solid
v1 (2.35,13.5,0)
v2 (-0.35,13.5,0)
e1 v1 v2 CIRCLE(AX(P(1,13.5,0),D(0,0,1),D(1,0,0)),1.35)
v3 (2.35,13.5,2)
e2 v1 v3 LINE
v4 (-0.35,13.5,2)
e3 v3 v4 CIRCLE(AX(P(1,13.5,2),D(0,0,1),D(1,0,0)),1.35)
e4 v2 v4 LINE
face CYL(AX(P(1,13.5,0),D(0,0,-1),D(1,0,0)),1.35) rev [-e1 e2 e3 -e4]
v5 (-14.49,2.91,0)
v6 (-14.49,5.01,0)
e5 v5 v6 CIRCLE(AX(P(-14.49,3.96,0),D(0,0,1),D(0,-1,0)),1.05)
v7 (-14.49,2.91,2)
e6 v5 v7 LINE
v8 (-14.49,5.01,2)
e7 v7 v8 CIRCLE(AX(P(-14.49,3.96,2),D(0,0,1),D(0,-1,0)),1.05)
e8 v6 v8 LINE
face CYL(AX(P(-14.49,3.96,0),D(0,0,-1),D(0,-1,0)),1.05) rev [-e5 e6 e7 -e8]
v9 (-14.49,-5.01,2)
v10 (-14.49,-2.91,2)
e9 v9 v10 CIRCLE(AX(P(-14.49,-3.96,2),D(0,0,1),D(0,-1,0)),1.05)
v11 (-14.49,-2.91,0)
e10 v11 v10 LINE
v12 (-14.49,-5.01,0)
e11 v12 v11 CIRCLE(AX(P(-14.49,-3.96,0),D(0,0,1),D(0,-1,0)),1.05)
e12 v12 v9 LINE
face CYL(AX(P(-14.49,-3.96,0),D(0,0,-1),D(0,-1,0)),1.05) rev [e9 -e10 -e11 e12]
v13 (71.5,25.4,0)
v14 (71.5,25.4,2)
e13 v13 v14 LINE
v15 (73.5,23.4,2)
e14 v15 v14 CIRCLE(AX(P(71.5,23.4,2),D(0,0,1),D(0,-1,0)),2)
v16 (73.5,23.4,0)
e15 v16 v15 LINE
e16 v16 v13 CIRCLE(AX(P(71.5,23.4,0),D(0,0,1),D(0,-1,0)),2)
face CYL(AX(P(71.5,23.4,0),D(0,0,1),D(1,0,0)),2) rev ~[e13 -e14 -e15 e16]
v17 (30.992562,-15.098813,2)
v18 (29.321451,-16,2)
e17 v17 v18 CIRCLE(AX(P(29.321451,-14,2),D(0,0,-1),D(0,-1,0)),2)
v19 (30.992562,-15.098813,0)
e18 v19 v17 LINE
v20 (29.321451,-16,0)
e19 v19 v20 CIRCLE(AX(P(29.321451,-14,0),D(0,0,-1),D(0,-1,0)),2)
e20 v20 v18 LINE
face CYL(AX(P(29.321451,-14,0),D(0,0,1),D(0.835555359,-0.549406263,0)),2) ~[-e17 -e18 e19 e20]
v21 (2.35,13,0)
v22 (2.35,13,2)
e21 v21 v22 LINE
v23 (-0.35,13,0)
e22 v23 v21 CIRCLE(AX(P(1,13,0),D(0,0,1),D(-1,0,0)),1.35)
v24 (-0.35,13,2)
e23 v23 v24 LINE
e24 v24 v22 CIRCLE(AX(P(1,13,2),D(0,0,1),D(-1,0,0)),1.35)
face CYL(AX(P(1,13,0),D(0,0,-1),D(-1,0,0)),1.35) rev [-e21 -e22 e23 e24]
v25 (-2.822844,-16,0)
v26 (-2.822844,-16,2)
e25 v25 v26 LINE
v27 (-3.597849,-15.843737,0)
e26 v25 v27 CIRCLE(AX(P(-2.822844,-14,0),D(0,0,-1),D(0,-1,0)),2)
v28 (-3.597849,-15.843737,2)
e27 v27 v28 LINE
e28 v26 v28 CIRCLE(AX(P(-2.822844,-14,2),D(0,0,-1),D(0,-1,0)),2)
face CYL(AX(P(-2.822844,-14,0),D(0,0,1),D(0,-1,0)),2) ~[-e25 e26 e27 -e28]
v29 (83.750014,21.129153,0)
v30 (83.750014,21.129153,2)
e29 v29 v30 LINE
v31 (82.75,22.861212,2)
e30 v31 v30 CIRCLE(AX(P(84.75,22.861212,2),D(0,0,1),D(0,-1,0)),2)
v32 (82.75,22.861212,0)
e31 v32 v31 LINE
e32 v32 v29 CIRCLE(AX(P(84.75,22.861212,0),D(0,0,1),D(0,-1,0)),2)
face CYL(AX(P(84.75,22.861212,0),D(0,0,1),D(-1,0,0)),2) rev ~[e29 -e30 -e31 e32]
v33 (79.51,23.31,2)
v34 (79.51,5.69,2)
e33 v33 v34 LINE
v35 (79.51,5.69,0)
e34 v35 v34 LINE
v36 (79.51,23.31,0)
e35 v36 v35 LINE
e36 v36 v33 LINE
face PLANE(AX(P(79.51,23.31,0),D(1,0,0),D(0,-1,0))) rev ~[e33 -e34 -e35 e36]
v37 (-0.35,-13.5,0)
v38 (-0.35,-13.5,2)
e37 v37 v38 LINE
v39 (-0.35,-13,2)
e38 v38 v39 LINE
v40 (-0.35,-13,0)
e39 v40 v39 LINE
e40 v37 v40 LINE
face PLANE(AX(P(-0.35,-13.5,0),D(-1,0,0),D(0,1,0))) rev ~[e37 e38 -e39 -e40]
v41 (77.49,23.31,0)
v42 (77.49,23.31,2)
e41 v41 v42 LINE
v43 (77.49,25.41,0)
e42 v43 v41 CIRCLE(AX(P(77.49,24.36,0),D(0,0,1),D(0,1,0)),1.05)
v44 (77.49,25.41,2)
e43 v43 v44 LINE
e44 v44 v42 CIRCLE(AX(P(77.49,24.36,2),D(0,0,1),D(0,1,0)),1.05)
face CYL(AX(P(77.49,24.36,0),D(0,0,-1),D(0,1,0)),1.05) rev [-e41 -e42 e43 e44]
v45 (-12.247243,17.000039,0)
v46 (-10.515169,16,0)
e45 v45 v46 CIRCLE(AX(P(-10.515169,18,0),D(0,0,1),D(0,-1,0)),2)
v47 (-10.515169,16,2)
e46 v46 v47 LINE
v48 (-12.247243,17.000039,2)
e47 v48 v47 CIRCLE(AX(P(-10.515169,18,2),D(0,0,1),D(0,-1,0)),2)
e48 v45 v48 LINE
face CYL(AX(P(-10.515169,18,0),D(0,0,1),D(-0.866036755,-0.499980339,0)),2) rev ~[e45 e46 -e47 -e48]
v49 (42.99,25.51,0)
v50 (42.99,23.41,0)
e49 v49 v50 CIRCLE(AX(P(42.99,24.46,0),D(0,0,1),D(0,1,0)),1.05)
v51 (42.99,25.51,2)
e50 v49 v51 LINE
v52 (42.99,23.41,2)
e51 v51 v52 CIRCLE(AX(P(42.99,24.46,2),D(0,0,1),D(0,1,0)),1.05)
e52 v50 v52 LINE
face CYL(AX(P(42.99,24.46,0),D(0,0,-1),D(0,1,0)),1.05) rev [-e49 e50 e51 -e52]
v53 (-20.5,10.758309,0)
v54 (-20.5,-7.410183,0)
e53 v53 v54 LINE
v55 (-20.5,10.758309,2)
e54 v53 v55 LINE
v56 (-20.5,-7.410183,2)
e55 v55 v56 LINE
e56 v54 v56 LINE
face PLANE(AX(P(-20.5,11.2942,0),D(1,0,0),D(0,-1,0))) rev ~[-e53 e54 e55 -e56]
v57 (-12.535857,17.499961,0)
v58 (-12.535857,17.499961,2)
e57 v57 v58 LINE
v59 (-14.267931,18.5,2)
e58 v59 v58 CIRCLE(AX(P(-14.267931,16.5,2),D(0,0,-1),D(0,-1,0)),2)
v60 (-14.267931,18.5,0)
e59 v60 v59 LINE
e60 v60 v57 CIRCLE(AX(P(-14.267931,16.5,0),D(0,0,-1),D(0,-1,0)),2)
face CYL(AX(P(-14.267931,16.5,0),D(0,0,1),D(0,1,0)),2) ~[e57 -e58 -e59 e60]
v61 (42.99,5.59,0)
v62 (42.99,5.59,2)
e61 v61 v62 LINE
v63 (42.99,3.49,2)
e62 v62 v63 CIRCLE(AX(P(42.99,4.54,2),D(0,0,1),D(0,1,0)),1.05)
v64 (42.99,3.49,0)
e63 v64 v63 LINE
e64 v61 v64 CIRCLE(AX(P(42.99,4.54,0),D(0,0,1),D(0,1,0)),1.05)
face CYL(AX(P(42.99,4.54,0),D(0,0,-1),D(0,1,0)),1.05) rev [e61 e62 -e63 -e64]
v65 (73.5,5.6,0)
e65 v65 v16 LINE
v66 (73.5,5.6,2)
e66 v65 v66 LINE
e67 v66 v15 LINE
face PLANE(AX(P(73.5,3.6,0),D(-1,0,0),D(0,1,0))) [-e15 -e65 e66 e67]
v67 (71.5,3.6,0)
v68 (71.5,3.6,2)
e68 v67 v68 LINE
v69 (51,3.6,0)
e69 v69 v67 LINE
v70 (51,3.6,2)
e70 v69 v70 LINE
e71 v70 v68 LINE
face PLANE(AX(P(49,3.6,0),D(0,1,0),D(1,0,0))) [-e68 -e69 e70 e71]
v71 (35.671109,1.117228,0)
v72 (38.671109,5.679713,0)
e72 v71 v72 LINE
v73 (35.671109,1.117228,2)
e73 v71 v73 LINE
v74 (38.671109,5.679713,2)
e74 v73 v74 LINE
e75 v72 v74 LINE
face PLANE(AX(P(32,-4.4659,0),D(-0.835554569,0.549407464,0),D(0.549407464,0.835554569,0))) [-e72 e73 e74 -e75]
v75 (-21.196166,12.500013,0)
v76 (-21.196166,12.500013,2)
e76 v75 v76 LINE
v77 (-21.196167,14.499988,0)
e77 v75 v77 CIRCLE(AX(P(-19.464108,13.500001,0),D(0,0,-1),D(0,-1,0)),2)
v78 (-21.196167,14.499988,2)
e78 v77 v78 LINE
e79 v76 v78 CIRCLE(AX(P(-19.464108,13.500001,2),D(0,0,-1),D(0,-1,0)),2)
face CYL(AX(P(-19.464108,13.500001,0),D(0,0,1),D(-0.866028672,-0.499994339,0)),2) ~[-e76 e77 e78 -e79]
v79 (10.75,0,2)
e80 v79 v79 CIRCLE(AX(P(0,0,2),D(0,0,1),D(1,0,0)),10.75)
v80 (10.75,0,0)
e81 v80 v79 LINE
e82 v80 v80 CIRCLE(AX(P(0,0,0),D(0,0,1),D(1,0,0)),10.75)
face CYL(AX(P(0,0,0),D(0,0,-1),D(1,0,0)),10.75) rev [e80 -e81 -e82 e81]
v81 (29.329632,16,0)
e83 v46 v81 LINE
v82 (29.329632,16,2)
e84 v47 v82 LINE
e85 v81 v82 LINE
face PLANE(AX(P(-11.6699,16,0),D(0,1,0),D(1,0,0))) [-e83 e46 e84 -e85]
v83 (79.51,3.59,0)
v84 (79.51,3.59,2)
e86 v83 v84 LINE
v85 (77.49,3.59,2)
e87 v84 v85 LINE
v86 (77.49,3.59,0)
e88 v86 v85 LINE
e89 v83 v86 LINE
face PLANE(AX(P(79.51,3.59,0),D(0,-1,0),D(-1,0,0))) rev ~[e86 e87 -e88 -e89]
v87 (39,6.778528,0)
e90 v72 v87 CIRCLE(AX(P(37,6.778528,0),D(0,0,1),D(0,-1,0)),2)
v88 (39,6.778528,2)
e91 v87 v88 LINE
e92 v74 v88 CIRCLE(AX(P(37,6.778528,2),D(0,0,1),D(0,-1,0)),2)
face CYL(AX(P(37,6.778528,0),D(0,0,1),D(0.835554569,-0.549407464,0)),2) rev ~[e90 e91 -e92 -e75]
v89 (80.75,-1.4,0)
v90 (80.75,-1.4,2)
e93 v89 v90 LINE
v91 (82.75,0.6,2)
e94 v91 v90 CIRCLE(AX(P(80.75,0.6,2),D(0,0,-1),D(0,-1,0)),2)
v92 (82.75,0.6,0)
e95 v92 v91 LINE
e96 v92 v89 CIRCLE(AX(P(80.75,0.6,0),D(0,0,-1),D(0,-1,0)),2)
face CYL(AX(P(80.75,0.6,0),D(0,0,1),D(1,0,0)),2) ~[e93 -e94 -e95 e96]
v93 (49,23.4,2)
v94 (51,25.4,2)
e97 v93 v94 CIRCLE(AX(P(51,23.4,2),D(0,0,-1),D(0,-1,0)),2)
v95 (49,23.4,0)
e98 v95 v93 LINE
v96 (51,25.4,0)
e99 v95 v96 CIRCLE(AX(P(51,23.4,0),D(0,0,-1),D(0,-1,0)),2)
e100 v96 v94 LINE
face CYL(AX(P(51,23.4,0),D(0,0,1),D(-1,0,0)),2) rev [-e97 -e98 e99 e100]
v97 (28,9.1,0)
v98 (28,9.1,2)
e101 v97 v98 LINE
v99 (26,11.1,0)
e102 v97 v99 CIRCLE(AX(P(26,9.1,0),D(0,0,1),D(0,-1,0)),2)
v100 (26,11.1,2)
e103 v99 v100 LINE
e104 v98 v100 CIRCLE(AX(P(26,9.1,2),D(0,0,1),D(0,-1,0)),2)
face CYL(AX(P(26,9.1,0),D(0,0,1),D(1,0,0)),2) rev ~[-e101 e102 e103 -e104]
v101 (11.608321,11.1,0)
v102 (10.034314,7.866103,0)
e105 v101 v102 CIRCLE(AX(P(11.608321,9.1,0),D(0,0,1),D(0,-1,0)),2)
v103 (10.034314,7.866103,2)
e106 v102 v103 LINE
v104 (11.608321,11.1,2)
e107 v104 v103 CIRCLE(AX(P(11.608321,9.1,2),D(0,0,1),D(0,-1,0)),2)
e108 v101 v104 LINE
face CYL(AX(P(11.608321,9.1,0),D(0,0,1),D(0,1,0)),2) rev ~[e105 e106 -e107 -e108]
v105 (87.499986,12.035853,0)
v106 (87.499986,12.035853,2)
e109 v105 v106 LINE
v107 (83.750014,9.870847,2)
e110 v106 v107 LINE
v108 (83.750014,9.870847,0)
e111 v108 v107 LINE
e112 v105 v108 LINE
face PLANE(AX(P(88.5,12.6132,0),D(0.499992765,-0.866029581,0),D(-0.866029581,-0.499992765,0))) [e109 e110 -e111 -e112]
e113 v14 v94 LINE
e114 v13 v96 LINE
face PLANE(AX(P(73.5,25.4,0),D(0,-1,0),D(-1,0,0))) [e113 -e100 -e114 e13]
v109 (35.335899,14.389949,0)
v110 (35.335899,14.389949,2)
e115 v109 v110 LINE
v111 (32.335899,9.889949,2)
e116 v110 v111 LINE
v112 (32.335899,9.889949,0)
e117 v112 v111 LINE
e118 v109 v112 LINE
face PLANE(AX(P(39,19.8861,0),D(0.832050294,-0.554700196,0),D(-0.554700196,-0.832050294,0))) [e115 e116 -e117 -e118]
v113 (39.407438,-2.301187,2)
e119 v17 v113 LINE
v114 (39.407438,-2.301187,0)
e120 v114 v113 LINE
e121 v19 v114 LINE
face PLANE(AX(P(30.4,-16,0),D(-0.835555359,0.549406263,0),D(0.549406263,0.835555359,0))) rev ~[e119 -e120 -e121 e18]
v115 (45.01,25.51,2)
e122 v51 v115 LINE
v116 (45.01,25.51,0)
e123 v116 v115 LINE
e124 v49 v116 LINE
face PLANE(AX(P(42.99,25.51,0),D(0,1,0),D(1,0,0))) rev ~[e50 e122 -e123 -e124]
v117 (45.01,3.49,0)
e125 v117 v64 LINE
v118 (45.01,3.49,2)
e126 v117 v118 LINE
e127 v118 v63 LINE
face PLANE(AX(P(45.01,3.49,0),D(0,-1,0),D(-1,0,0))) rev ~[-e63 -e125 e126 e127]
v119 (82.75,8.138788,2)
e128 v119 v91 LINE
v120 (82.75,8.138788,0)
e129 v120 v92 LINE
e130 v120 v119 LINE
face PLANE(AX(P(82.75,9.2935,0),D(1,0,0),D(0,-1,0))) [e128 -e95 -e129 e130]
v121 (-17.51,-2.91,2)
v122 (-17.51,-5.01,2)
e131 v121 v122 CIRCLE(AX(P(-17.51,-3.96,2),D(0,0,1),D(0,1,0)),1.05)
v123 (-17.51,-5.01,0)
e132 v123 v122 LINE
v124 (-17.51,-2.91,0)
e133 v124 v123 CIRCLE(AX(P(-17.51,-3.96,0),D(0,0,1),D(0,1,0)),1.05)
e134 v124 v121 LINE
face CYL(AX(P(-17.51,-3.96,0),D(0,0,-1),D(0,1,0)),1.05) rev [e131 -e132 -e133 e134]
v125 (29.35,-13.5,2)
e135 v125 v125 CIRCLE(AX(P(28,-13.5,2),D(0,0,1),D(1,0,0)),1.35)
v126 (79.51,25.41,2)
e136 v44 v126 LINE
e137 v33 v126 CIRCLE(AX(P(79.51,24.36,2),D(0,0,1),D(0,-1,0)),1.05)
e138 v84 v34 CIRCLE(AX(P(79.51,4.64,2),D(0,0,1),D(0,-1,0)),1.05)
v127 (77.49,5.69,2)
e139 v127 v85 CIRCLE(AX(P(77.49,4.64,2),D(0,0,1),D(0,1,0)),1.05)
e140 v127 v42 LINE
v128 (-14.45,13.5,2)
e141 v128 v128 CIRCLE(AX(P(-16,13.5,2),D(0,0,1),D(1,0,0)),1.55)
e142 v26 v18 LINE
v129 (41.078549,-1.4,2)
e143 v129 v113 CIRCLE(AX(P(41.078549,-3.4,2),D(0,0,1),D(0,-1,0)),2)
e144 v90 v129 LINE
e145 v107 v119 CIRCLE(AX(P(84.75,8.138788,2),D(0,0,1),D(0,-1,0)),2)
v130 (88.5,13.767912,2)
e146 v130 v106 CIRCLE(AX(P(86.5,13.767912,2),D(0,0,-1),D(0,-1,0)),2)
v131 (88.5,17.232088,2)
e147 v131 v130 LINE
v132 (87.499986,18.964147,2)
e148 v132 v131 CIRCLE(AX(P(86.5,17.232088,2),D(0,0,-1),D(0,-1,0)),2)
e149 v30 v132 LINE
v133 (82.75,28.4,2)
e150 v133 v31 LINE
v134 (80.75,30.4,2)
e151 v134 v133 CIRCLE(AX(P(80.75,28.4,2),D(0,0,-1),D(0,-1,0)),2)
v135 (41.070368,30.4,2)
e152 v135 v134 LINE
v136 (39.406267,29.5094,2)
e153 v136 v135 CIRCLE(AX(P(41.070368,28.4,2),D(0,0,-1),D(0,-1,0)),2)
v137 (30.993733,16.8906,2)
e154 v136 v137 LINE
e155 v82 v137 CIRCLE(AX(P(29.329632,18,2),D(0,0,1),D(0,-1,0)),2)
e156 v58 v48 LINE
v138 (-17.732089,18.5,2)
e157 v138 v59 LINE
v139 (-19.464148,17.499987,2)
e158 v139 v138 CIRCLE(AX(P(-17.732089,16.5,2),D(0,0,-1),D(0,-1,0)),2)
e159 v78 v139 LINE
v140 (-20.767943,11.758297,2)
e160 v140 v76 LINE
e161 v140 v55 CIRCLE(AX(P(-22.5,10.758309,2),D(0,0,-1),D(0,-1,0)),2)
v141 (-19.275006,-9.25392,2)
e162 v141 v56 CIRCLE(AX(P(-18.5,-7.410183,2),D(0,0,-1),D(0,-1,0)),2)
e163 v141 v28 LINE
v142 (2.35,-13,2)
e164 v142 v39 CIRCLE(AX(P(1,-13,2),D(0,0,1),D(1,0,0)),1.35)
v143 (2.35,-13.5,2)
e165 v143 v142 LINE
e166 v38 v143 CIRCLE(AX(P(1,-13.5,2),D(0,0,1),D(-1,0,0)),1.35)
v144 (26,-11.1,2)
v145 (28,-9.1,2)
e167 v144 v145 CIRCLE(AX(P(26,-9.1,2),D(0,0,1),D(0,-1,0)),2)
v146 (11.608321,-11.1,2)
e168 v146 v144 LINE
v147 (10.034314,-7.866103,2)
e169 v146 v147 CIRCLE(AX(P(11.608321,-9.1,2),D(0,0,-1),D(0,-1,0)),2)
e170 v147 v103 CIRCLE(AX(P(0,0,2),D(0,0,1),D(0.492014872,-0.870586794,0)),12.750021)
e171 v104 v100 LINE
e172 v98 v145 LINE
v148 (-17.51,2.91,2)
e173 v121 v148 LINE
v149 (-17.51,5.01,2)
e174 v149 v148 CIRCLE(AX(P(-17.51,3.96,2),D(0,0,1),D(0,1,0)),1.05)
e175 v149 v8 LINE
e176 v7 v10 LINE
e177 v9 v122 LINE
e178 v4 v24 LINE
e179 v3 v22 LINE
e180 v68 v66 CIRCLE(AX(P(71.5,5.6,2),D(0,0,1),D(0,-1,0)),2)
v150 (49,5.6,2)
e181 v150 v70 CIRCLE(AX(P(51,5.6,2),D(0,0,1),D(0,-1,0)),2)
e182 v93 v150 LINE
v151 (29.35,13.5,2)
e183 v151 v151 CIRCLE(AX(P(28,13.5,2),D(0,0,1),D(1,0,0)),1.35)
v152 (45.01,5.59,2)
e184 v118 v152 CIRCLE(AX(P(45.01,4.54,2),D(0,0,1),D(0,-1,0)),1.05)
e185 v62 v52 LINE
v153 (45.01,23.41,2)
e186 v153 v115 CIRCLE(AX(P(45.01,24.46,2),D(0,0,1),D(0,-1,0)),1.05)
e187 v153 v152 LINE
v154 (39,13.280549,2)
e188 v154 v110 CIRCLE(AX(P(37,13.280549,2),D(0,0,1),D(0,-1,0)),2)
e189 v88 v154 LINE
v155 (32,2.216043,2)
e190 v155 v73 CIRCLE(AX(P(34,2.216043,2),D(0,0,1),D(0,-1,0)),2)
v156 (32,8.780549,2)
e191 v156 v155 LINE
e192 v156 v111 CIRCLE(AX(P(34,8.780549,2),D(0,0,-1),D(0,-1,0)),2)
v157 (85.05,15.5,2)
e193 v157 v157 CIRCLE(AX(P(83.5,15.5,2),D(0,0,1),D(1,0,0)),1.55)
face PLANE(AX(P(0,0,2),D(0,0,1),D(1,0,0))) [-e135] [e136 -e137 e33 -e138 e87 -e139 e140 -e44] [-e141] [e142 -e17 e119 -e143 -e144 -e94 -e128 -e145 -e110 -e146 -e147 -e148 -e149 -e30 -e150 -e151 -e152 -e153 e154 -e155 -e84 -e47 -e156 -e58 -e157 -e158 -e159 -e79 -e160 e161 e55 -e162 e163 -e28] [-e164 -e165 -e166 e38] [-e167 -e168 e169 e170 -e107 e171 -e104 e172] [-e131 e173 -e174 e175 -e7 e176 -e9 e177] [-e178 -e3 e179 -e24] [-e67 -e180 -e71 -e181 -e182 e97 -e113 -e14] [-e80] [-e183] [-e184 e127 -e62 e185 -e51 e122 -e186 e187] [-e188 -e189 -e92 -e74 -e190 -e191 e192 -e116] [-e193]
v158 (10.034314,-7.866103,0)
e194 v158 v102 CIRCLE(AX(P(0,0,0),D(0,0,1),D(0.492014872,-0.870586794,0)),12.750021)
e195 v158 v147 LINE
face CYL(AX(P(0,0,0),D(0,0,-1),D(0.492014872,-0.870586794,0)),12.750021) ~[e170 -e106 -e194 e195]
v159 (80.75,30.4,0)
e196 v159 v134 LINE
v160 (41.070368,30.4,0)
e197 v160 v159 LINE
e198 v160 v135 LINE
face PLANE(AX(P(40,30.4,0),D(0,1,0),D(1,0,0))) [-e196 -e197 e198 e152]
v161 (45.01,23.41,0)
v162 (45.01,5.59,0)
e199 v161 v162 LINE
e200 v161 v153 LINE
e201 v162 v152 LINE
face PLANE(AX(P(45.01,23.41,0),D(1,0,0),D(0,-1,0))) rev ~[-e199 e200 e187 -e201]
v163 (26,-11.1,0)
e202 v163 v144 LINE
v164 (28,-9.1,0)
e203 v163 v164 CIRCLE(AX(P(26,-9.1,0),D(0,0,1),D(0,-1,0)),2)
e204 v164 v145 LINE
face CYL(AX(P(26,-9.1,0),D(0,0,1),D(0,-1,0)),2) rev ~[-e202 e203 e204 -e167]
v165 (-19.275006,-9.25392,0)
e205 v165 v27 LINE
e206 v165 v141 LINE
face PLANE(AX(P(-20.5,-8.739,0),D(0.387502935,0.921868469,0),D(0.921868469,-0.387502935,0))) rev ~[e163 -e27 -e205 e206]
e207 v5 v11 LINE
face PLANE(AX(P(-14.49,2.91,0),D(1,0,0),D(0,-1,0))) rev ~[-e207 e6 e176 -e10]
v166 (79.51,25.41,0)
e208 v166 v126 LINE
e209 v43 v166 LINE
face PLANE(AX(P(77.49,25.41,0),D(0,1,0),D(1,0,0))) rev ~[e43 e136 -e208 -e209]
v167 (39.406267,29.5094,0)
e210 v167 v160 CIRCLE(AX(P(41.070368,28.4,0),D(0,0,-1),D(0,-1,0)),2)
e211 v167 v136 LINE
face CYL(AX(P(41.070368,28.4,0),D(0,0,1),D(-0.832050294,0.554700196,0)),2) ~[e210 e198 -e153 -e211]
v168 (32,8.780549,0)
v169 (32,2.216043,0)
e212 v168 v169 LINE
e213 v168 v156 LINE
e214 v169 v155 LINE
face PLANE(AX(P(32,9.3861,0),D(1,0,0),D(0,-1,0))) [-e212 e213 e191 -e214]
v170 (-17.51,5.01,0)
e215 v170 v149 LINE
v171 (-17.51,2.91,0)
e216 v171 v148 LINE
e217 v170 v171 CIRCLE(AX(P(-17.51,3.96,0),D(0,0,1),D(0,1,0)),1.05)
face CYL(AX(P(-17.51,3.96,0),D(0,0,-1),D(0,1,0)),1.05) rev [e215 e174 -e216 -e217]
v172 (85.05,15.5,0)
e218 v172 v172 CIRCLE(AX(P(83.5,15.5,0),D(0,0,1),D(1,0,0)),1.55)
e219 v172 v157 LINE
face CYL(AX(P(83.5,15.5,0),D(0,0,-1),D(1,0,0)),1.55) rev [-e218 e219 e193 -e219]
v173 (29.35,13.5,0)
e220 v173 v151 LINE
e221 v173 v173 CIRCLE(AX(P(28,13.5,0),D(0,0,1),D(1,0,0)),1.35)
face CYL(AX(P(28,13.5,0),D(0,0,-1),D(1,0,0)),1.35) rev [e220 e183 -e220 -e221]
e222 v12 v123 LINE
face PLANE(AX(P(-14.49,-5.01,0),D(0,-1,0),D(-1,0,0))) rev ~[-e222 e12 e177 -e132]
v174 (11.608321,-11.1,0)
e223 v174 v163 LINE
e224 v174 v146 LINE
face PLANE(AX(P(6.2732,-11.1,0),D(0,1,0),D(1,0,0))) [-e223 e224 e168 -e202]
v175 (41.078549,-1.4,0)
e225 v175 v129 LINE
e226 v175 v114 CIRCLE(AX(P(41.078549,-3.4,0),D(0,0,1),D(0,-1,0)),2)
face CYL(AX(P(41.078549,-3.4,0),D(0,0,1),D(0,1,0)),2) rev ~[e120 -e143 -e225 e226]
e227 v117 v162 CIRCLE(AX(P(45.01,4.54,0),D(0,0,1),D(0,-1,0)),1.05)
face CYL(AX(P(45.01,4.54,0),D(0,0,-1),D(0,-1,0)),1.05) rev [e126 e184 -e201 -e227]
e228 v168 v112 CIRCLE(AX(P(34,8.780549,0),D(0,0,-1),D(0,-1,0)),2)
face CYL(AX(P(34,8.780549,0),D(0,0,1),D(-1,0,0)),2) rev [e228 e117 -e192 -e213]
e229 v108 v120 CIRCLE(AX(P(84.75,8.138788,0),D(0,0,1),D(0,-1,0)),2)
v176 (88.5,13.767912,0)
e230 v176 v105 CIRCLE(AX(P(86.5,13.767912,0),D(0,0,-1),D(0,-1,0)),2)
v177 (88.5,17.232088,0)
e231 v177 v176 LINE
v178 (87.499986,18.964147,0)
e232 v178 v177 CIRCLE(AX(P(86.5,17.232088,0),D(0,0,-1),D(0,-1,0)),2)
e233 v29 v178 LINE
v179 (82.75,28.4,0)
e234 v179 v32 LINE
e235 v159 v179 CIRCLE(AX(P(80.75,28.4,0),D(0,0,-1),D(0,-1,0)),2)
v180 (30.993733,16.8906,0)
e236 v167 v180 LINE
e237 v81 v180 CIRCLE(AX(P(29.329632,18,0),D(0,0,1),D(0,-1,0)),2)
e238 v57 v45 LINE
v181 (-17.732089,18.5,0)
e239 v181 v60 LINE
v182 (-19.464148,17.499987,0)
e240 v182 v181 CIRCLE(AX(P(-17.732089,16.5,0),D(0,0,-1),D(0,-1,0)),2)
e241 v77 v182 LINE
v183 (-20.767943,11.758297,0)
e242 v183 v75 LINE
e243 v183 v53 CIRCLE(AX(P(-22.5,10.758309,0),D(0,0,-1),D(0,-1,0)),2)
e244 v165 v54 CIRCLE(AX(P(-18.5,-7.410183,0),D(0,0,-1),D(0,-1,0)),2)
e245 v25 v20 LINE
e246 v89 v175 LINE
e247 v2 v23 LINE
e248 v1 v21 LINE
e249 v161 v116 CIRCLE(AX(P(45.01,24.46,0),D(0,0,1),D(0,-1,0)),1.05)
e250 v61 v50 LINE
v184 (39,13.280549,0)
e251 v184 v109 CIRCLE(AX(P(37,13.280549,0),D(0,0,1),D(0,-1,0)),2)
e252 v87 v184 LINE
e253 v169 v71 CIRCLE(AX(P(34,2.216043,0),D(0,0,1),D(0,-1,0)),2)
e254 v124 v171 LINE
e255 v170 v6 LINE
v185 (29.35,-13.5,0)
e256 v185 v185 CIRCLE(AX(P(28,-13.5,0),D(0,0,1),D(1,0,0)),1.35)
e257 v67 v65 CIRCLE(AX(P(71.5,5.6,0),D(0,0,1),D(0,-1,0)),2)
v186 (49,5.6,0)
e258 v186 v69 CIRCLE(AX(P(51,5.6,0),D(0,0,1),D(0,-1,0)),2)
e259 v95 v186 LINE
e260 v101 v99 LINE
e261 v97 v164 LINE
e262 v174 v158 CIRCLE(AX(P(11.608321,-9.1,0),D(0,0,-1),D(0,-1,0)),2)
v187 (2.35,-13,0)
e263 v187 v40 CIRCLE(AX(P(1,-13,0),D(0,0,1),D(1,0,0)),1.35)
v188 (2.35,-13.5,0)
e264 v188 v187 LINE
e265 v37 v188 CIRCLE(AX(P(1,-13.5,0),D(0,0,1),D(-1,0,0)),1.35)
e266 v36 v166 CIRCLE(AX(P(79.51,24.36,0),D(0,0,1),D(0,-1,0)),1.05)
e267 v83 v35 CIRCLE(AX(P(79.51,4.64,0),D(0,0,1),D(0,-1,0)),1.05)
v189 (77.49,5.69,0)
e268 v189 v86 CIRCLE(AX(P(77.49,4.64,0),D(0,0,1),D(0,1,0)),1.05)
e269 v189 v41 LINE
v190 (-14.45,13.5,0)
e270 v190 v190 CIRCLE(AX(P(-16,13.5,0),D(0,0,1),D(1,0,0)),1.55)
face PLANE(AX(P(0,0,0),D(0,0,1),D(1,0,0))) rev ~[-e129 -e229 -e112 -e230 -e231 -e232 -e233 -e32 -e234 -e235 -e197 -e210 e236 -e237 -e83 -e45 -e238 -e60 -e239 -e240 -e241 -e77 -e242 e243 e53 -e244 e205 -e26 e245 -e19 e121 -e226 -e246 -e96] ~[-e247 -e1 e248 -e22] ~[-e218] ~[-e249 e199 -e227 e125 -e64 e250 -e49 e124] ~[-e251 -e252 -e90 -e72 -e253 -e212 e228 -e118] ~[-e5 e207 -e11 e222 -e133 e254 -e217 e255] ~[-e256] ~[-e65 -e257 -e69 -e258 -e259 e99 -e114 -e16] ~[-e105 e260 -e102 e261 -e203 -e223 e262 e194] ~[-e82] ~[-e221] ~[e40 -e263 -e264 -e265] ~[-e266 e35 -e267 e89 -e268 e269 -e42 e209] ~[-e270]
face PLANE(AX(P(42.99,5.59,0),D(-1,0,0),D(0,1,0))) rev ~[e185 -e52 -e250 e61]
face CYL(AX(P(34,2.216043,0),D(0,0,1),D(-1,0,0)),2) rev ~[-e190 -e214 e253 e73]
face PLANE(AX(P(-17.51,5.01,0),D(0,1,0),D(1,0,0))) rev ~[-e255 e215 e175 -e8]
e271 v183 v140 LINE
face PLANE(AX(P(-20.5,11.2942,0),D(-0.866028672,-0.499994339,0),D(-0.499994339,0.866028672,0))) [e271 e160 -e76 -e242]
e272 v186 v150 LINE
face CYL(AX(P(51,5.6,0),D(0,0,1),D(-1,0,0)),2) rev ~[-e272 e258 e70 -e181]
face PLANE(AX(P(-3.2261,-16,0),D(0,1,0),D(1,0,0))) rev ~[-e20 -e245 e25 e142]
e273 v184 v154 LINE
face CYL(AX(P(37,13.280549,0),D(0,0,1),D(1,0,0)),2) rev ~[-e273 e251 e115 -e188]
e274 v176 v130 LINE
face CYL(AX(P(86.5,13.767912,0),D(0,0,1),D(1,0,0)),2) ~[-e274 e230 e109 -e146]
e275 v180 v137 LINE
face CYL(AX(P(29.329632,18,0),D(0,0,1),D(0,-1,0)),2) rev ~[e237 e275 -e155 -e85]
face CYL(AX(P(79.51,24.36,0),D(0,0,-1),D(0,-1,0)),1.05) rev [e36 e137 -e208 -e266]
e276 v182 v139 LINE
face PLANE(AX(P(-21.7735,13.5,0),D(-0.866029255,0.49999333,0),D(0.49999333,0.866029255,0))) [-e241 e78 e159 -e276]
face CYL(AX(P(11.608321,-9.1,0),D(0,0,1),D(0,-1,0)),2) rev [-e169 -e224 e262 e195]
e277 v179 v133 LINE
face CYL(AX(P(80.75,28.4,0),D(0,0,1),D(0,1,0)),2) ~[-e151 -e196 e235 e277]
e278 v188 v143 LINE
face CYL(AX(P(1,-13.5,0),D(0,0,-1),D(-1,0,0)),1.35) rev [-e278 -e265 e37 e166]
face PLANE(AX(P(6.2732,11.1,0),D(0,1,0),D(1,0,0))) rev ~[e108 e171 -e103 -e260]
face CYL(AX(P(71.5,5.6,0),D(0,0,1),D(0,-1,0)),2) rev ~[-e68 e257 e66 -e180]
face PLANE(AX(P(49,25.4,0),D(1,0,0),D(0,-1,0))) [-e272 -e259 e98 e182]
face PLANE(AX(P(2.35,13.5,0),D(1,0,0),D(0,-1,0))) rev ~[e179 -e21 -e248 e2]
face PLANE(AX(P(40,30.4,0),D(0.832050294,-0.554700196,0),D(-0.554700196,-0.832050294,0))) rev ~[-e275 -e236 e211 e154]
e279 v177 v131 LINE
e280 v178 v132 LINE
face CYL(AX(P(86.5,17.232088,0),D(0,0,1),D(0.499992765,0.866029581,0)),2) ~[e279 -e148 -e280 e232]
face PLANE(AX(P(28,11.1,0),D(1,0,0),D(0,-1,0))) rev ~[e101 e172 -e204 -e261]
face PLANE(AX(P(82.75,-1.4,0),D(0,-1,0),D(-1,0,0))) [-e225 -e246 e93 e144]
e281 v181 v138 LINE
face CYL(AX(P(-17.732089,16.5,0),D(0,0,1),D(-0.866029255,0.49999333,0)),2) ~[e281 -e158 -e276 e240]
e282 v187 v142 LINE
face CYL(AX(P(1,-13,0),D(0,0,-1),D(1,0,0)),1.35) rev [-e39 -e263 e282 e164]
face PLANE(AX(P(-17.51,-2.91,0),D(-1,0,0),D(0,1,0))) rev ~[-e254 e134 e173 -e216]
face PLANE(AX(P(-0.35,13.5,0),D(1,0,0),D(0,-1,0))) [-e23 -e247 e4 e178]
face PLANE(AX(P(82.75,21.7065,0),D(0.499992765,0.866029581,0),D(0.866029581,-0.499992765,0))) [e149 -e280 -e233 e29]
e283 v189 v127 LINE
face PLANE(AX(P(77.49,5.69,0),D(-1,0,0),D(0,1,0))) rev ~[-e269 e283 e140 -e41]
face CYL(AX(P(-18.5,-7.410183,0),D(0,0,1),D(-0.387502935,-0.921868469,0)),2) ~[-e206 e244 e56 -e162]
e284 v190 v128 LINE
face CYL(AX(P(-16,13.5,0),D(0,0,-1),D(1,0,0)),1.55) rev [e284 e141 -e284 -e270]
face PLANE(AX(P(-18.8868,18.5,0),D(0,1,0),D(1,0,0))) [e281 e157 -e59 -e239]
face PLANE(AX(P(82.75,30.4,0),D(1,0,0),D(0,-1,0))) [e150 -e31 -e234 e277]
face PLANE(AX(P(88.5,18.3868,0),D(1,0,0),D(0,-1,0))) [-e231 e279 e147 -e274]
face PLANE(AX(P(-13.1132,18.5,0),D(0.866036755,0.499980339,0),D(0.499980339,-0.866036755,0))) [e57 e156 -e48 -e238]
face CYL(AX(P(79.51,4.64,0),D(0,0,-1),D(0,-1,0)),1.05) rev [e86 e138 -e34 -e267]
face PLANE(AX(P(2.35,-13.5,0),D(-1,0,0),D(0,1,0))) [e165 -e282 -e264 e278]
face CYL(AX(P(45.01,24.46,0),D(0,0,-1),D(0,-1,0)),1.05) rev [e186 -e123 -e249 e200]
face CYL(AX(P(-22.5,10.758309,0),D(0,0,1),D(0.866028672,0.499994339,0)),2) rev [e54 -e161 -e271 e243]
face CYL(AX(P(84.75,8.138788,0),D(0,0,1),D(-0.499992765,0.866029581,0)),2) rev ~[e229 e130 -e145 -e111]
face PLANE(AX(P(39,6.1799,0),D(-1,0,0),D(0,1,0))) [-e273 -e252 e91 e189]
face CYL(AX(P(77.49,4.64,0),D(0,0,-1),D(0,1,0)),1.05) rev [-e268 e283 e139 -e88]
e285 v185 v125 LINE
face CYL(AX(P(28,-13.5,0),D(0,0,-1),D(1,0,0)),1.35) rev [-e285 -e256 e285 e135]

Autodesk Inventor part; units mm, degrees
ref_plane "YZ Plane" through (0, 0, 0) normal (1, 0, 0) x (0, 1, 0)
ref_plane "XZ Plane" through (0, 0, 0) normal (0, 1, 0) x (-1, 0, 0)
ref_plane "XY Plane" through (0, 0, 0) normal (0, 0, 1) x (1, 0, 0)
sketch "スケッチ1" plane through (0, 0, 0) normal (0, 0, 1) x (1, 0, 0)
  line L0 (28, 13.5) -> (1, 13.5) construction
  line L1 (1, 13.5) -> (1, -13.5) construction
  line L2 (1, -13.5) -> (28, -13.5) construction
  line L3 (28, -13.5) -> (28, 13.5) construction
  line L4 (28, 13.5) -> (1, -13.5) construction
  line L5 (1, 13.5) -> (28, -13.5) construction
  circle A0 centre (0, 0) radius 10.5 construction
  circle A1 centre (0, 0) radius 10.75
  arc A2 (0, 16) -> (-12, 10.583) centre (0, 0) ccw construction
  line L6 (1, 0) -> (28, 0) construction
  line L7 (14.5, 13.5) -> (14.5, -13.5) construction
  circle A3 centre (28, 13.5) radius 1.35
  arc A4 (-0.35, 13) -> (2.35, 13) centre (1, 13) ccw
  line L8 (2.35, 13.5) -> (2.35, 13)
  line L9 (-0.35, 13.5) -> (-0.35, 13)
  arc A5 (2.35, 13.5) -> (-0.35, 13.5) centre (1, 13.5) ccw
  line L10 (-12, 10.583) -> (-12, -10.583) construction
  arc A6 (-12, -10.583) -> (0, -16) centre (0, 0) ccw construction
  circle A7 centre (28, -13.5) radius 1.35
  arc A8 (2.35, -13) -> (-0.35, -13) centre (1, -13) ccw
  line L11 (2.35, -13.5) -> (2.35, -13)
  line L12 (-0.35, -13.5) -> (-0.35, -13)
  arc A9 (-0.35, -13.5) -> (2.35, -13.5) centre (1, -13.5) ccw
  line L13 (-17.5, 5) -> (-14.5, 5) construction
  line L14 (-14.5, 5) -> (-14.5, -5) construction
  line L15 (-14.5, -5) -> (-17.5, -5) construction
  line L16 (-17.5, -5) -> (-17.5, 5) construction
  line L17 (-17.5, 5) -> (-14.5, -5) construction
  line L18 (-14.5, 5) -> (-17.5, -5) construction
  line L19 (-17.51, 5.01) -> (-14.49, 5.01)
  line L20 (-14.49, 5.01) -> (-14.49, 2.91) construction
  line L21 (-14.49, -5.01) -> (-17.51, -5.01)
  line L22 (-17.51, -5.01) -> (-17.51, -2.91) construction
  line L23 (-17.51, 5.01) -> (-14.49, -5.01) construction
  line L24 (-14.49, 5.01) -> (-17.51, -5.01) construction
  arc A10 (-17.51, 5.01) -> (-17.51, 2.91) centre (-17.51, 3.96) ccw
  line L25 (-17.5, 0) -> (-14.5, 0) construction
  line L26 (-16, 5) -> (-16, -5) construction
  arc A11 (-14.49, 2.91) -> (-14.49, 5.01) centre (-14.49, 3.96) ccw
  arc A12 (-17.51, -2.91) -> (-17.51, -5.01) centre (-17.51, -3.96) ccw
  arc A13 (-14.49, -5.01) -> (-14.49, -2.91) centre (-14.49, -3.96) ccw
  line L27 (-17.51, 2.91) -> (-17.51, 5.01) construction
  line L28 (-17.51, -2.91) -> (-17.51, 2.91)
  line L29 (-14.49, -2.91) -> (-14.49, -5.01) construction
  line L30 (-14.49, 2.91) -> (-14.49, -2.91)
  circle A14 centre (-16, 13.5) radius 1.55
  line L31 (-20.5, 11.2942) -> (-20.5, -8.739)
  line L32 (-20.5, -8.739) -> (-3.2261, -16)
  line L33 (-3.2261, -16) -> (30.4, -16)
  line L34 (-11.6699, 16) -> (30.4, 16)
  arc A15 (6.2732, -11.1) -> (6.2732, 11.1) centre (0, 0) ccw
  line L35 (6.2732, 11.1) -> (28, 11.1)
  circle A16 centre (28, 13.5) radius 2.4 construction
  circle A17 centre (28, -13.5) radius 2.4 construction
  line L36 (6.2732, -11.1) -> (28, -11.1)
  line L37 (79.5, 25.4) -> (77.5, 25.4) construction
  line L38 (77.5, 25.4) -> (77.5, 3.6) construction
  line L39 (77.5, 3.6) -> (79.5, 3.6) construction
  line L40 (79.5, 3.6) -> (79.5, 25.4) construction
  line L41 (79.5, 25.4) -> (77.5, 3.6) construction
  line L42 (77.5, 25.4) -> (79.5, 3.6) construction
  line L43 (77.49, 25.41) -> (79.51, 25.41)
  line L44 (79.51, 25.41) -> (79.51, 23.31) construction
  line L45 (79.51, 3.59) -> (77.49, 3.59)
  line L46 (77.49, 3.59) -> (77.49, 5.69) construction
  line L47 (77.49, 25.41) -> (79.51, 3.59) construction
  line L48 (79.51, 25.41) -> (77.49, 3.59) construction
  arc A18 (77.49, 25.41) -> (77.49, 23.31) centre (77.49, 24.36) ccw
  line L49 (78.5, 25.4) -> (78.5, 3.6) construction
  line L50 (77.5, 14.5) -> (79.5, 14.5) construction
  arc A19 (79.51, 23.31) -> (79.51, 25.41) centre (79.51, 24.36) ccw
  arc A20 (77.49, 5.69) -> (77.49, 3.59) centre (77.49, 4.64) ccw
  arc A21 (79.51, 3.59) -> (79.51, 5.69) centre (79.51, 4.64) ccw
  line L51 (77.49, 23.31) -> (77.49, 25.41) construction
  line L52 (79.51, 23.31) -> (79.51, 5.69)
  line L53 (79.51, 5.69) -> (79.51, 3.59) construction
  line L54 (77.49, 5.69) -> (77.49, 23.31)
  circle A22 centre (83.5, 15.5) radius 1.55
  line L55 (83.5, 12.0359) -> (80.5, 13.7679) construction
  line L56 (80.5, 13.7679) -> (80.5, 17.2321) construction
  line L57 (80.5, 17.2321) -> (83.5, 18.9641) construction
  line L58 (83.5, 18.9641) -> (86.5, 17.2321) construction
  line L59 (86.5, 17.2321) -> (86.5, 13.7679) construction
  line L60 (86.5, 13.7679) -> (83.5, 12.0359) construction
  line L61 (40, 30.4) -> (82.75, 30.4)
  line L62 (82.75, 30.4) -> (82.75, 21.7065)
  line L63 (82.75, 21.7065) -> (88.5, 18.3868)
  line L64 (88.5, 18.3868) -> (88.5, 12.6132)
  line L65 (88.5, 12.6132) -> (82.75, 9.2935)
  line L66 (82.75, 9.2935) -> (82.75, -1.4)
  line L67 (82.75, -1.4) -> (40, -1.4)
  line L68 (30.4, -16) -> (40, -1.4)
  line L69 (40, 30.4) -> (40, -1.4) construction
  line L70 (32, 9.3861) -> (32, -4.4659)
  line L71 (32, -4.4659) -> (39, 6.1799)
  line L72 (39, 6.1799) -> (39, 19.8861)
  line L73 (39, 19.8861) -> (32, 9.3861)
  line L74 (-17.5, 10) -> (-14.5, 10) construction
  line L75 (-14.5, -10) -> (-17.5, -10) construction
  line L76 (-17.5, 10) -> (-14.5, -10) construction
  line L77 (-14.5, 10) -> (-17.5, -10) construction
  line L78 (40, 30.4) -> (30.4, 16)
  line L79 (30.4, 16) -> (30.4, -16) construction
  line L80 (43, 25.5) -> (45, 25.5) construction
  line L81 (45, 25.5) -> (45, 3.5) construction
  line L82 (45, 3.5) -> (43, 3.5) construction
  line L83 (43, 3.5) -> (43, 25.5) construction
  line L84 (43, 25.5) -> (45, 3.5) construction
  line L85 (45, 25.5) -> (43, 3.5) construction
  line L86 (42.99, 25.51) -> (45.01, 25.51)
  line L87 (45.01, 25.51) -> (45.01, 23.41)
  line L88 (45.01, 3.49) -> (42.99, 3.49)
  line L89 (42.99, 3.49) -> (42.99, 5.59) construction
  line L90 (42.99, 25.51) -> (45.01, 3.49) construction
  line L91 (45.01, 25.51) -> (42.99, 3.49) construction
  line L92 (44, 25.5) -> (44, 3.5) construction
  line L93 (43, 14.5) -> (45, 14.5) construction
  arc A23 (42.99, 25.51) -> (42.99, 23.41) centre (42.99, 24.46) ccw
  arc A24 (45.01, 23.41) -> (45.01, 25.51) centre (45.01, 24.46) ccw
  arc A25 (42.99, 5.59) -> (42.99, 3.49) centre (42.99, 4.54) ccw
  arc A26 (45.01, 3.49) -> (45.01, 5.59) centre (45.01, 4.54) ccw
  line L94 (45.01, 23.41) -> (45.01, 5.59)
  line L95 (42.99, 5.59) -> (42.99, 25.51)
  line L96 (45.01, 5.59) -> (45.01, 3.49) construction
  line L97 (28, 11.1) -> (28, -11.1)
  line L98 (49, 25.4) -> (49, 3.6)
  line L99 (49, 3.6) -> (73.5, 3.6)
  line L100 (73.5, 3.6) -> (73.5, 25.4)
  line L101 (73.5, 25.4) -> (49, 25.4)
  line L102 (-17.7321, 10.5) -> (-19.4641, 13.5) construction
  line L103 (-19.4641, 13.5) -> (-17.7321, 16.5) construction
  line L104 (-17.7321, 16.5) -> (-14.2679, 16.5) construction
  line L105 (-14.2679, 16.5) -> (-12.5359, 13.5) construction
  line L106 (-12.5359, 13.5) -> (-14.2679, 10.5) construction
  line L107 (-14.2679, 10.5) -> (-17.7321, 10.5) construction
  line L108 (-20.5, 11.2942) -> (-21.7735, 13.5)
  line L109 (-21.7735, 13.5) -> (-18.8868, 18.5)
  line L110 (-18.8868, 18.5) -> (-13.1132, 18.5)
  line L111 (-13.1132, 18.5) -> (-11.6699, 16)
  point P0 (14.5, 0)
  point P1 (-16, 0)
  point P2 (-16, 0)
  point P3 (78.5, 14.5)
  point P4 (44, 14.5)
  dimension "d0" = 27
  dimension "d1" = 27
  dimension "d2" = 21
  dimension "d3" = 0.25
  dimension "d6" = 2.7
  dimension "d9" = 0.5
  dimension "d10" = 1.35
  dimension "d11" = 1
  dimension "d12" = 16
  dimension "d13" = 12
  dimension "d14" = 3
  dimension "d16" = 2.5
  dimension "d18" = 0.01
  dimension "d20" = 3.1
  dimension "d28" = 3
  dimension "d29" = 4.8
  dimension "d52" = 2
  dimension "d53" = 4.8
  dimension "d54" = 10
  dimension "d55" = 0.01
  dimension "d56" = 1.05
  dimension "d75" = 1.05
  dimension "d76" = 0.01
  dimension "d77" = 0.01
  dimension "d80" = 3.1
  dimension "d86" = 3.25
  dimension "d87" = 2
  dimension "d88" = 2
  dimension "d89" = 5
  dimension "d90" = 2
  dimension "d91" = 6
  dimension "d92" = 2
  dimension "d93" = 5
  dimension "d95" = 1
  dimension "d96" = 5
  dimension "d97" = 21.8
  dimension "d104" = 5
  dimension "d109" = 5
  dimension "d110" = 5
  dimension "d111" = 2
  dimension "d112" = 22
  dimension "d113" = 1.05
  dimension "d115" = 0.01
  dimension "d116" = 0.01
  dimension "d117" = 32.5
  dimension "d118" = 45
  dimension "d120" = 4
  dimension "d121" = 4
  dimension "d122" = 3
  dimension "d124" = 14.5
  dimension "d125" = 5
  dimension "d126" = 5
  dimension "d127" = 4
  dimension "d128" = 4
  dimension "d129" = 6
  dimension "d130" = 0.5
  dimension "d131" = 2
  dimension "d132" = 2
  dimension "d133" = 2
  dimension "d134" = 2
  dimension "d135" = 17
  dimension "d136" = 20
extrude "押し出し1" add sketch "スケッチ1" along normal blind 2
fillet "フィレット1" radius 2 17 edges at (-20.5, 11.2942, 1) (-20.5, -8.739, 1) (-3.2261, -16, 1) (30.4, 16, 1) (40, 30.4, 1) (82.75, 30.4, 1) (82.75, 21.7065, 1) (88.5, 18.3868, 1) (88.5, 12.6132, 1) (82.75, 9.2935, 1) (82.75, -1.4, 1) (40, -1.4, 1) (30.4, -16, 1) (-21.7735, 13.5, 1) (-18.8868, 18.5, 1) (-13.1132, 18.5, 1) (-11.6699, 16, 1)
fillet "フィレット2" radius 2 12 edges at (6.2732, 11.1, 1) (6.2732, -11.1, 1) (32, 9.3861, 1) (32, -4.4659, 1) (39, 6.1799, 1) (39, 19.8861, 1) (28, -11.1, 1) (28, 11.1, 1) (49, 25.4, 1) (49, 3.6, 1) (73.5, 3.6, 1) (73.5, 25.4, 1)
equation "\"d10\" = 0.5 * d6"
properties part number "Ankle_side_frame" material "アルミニウム 2014-T4"
